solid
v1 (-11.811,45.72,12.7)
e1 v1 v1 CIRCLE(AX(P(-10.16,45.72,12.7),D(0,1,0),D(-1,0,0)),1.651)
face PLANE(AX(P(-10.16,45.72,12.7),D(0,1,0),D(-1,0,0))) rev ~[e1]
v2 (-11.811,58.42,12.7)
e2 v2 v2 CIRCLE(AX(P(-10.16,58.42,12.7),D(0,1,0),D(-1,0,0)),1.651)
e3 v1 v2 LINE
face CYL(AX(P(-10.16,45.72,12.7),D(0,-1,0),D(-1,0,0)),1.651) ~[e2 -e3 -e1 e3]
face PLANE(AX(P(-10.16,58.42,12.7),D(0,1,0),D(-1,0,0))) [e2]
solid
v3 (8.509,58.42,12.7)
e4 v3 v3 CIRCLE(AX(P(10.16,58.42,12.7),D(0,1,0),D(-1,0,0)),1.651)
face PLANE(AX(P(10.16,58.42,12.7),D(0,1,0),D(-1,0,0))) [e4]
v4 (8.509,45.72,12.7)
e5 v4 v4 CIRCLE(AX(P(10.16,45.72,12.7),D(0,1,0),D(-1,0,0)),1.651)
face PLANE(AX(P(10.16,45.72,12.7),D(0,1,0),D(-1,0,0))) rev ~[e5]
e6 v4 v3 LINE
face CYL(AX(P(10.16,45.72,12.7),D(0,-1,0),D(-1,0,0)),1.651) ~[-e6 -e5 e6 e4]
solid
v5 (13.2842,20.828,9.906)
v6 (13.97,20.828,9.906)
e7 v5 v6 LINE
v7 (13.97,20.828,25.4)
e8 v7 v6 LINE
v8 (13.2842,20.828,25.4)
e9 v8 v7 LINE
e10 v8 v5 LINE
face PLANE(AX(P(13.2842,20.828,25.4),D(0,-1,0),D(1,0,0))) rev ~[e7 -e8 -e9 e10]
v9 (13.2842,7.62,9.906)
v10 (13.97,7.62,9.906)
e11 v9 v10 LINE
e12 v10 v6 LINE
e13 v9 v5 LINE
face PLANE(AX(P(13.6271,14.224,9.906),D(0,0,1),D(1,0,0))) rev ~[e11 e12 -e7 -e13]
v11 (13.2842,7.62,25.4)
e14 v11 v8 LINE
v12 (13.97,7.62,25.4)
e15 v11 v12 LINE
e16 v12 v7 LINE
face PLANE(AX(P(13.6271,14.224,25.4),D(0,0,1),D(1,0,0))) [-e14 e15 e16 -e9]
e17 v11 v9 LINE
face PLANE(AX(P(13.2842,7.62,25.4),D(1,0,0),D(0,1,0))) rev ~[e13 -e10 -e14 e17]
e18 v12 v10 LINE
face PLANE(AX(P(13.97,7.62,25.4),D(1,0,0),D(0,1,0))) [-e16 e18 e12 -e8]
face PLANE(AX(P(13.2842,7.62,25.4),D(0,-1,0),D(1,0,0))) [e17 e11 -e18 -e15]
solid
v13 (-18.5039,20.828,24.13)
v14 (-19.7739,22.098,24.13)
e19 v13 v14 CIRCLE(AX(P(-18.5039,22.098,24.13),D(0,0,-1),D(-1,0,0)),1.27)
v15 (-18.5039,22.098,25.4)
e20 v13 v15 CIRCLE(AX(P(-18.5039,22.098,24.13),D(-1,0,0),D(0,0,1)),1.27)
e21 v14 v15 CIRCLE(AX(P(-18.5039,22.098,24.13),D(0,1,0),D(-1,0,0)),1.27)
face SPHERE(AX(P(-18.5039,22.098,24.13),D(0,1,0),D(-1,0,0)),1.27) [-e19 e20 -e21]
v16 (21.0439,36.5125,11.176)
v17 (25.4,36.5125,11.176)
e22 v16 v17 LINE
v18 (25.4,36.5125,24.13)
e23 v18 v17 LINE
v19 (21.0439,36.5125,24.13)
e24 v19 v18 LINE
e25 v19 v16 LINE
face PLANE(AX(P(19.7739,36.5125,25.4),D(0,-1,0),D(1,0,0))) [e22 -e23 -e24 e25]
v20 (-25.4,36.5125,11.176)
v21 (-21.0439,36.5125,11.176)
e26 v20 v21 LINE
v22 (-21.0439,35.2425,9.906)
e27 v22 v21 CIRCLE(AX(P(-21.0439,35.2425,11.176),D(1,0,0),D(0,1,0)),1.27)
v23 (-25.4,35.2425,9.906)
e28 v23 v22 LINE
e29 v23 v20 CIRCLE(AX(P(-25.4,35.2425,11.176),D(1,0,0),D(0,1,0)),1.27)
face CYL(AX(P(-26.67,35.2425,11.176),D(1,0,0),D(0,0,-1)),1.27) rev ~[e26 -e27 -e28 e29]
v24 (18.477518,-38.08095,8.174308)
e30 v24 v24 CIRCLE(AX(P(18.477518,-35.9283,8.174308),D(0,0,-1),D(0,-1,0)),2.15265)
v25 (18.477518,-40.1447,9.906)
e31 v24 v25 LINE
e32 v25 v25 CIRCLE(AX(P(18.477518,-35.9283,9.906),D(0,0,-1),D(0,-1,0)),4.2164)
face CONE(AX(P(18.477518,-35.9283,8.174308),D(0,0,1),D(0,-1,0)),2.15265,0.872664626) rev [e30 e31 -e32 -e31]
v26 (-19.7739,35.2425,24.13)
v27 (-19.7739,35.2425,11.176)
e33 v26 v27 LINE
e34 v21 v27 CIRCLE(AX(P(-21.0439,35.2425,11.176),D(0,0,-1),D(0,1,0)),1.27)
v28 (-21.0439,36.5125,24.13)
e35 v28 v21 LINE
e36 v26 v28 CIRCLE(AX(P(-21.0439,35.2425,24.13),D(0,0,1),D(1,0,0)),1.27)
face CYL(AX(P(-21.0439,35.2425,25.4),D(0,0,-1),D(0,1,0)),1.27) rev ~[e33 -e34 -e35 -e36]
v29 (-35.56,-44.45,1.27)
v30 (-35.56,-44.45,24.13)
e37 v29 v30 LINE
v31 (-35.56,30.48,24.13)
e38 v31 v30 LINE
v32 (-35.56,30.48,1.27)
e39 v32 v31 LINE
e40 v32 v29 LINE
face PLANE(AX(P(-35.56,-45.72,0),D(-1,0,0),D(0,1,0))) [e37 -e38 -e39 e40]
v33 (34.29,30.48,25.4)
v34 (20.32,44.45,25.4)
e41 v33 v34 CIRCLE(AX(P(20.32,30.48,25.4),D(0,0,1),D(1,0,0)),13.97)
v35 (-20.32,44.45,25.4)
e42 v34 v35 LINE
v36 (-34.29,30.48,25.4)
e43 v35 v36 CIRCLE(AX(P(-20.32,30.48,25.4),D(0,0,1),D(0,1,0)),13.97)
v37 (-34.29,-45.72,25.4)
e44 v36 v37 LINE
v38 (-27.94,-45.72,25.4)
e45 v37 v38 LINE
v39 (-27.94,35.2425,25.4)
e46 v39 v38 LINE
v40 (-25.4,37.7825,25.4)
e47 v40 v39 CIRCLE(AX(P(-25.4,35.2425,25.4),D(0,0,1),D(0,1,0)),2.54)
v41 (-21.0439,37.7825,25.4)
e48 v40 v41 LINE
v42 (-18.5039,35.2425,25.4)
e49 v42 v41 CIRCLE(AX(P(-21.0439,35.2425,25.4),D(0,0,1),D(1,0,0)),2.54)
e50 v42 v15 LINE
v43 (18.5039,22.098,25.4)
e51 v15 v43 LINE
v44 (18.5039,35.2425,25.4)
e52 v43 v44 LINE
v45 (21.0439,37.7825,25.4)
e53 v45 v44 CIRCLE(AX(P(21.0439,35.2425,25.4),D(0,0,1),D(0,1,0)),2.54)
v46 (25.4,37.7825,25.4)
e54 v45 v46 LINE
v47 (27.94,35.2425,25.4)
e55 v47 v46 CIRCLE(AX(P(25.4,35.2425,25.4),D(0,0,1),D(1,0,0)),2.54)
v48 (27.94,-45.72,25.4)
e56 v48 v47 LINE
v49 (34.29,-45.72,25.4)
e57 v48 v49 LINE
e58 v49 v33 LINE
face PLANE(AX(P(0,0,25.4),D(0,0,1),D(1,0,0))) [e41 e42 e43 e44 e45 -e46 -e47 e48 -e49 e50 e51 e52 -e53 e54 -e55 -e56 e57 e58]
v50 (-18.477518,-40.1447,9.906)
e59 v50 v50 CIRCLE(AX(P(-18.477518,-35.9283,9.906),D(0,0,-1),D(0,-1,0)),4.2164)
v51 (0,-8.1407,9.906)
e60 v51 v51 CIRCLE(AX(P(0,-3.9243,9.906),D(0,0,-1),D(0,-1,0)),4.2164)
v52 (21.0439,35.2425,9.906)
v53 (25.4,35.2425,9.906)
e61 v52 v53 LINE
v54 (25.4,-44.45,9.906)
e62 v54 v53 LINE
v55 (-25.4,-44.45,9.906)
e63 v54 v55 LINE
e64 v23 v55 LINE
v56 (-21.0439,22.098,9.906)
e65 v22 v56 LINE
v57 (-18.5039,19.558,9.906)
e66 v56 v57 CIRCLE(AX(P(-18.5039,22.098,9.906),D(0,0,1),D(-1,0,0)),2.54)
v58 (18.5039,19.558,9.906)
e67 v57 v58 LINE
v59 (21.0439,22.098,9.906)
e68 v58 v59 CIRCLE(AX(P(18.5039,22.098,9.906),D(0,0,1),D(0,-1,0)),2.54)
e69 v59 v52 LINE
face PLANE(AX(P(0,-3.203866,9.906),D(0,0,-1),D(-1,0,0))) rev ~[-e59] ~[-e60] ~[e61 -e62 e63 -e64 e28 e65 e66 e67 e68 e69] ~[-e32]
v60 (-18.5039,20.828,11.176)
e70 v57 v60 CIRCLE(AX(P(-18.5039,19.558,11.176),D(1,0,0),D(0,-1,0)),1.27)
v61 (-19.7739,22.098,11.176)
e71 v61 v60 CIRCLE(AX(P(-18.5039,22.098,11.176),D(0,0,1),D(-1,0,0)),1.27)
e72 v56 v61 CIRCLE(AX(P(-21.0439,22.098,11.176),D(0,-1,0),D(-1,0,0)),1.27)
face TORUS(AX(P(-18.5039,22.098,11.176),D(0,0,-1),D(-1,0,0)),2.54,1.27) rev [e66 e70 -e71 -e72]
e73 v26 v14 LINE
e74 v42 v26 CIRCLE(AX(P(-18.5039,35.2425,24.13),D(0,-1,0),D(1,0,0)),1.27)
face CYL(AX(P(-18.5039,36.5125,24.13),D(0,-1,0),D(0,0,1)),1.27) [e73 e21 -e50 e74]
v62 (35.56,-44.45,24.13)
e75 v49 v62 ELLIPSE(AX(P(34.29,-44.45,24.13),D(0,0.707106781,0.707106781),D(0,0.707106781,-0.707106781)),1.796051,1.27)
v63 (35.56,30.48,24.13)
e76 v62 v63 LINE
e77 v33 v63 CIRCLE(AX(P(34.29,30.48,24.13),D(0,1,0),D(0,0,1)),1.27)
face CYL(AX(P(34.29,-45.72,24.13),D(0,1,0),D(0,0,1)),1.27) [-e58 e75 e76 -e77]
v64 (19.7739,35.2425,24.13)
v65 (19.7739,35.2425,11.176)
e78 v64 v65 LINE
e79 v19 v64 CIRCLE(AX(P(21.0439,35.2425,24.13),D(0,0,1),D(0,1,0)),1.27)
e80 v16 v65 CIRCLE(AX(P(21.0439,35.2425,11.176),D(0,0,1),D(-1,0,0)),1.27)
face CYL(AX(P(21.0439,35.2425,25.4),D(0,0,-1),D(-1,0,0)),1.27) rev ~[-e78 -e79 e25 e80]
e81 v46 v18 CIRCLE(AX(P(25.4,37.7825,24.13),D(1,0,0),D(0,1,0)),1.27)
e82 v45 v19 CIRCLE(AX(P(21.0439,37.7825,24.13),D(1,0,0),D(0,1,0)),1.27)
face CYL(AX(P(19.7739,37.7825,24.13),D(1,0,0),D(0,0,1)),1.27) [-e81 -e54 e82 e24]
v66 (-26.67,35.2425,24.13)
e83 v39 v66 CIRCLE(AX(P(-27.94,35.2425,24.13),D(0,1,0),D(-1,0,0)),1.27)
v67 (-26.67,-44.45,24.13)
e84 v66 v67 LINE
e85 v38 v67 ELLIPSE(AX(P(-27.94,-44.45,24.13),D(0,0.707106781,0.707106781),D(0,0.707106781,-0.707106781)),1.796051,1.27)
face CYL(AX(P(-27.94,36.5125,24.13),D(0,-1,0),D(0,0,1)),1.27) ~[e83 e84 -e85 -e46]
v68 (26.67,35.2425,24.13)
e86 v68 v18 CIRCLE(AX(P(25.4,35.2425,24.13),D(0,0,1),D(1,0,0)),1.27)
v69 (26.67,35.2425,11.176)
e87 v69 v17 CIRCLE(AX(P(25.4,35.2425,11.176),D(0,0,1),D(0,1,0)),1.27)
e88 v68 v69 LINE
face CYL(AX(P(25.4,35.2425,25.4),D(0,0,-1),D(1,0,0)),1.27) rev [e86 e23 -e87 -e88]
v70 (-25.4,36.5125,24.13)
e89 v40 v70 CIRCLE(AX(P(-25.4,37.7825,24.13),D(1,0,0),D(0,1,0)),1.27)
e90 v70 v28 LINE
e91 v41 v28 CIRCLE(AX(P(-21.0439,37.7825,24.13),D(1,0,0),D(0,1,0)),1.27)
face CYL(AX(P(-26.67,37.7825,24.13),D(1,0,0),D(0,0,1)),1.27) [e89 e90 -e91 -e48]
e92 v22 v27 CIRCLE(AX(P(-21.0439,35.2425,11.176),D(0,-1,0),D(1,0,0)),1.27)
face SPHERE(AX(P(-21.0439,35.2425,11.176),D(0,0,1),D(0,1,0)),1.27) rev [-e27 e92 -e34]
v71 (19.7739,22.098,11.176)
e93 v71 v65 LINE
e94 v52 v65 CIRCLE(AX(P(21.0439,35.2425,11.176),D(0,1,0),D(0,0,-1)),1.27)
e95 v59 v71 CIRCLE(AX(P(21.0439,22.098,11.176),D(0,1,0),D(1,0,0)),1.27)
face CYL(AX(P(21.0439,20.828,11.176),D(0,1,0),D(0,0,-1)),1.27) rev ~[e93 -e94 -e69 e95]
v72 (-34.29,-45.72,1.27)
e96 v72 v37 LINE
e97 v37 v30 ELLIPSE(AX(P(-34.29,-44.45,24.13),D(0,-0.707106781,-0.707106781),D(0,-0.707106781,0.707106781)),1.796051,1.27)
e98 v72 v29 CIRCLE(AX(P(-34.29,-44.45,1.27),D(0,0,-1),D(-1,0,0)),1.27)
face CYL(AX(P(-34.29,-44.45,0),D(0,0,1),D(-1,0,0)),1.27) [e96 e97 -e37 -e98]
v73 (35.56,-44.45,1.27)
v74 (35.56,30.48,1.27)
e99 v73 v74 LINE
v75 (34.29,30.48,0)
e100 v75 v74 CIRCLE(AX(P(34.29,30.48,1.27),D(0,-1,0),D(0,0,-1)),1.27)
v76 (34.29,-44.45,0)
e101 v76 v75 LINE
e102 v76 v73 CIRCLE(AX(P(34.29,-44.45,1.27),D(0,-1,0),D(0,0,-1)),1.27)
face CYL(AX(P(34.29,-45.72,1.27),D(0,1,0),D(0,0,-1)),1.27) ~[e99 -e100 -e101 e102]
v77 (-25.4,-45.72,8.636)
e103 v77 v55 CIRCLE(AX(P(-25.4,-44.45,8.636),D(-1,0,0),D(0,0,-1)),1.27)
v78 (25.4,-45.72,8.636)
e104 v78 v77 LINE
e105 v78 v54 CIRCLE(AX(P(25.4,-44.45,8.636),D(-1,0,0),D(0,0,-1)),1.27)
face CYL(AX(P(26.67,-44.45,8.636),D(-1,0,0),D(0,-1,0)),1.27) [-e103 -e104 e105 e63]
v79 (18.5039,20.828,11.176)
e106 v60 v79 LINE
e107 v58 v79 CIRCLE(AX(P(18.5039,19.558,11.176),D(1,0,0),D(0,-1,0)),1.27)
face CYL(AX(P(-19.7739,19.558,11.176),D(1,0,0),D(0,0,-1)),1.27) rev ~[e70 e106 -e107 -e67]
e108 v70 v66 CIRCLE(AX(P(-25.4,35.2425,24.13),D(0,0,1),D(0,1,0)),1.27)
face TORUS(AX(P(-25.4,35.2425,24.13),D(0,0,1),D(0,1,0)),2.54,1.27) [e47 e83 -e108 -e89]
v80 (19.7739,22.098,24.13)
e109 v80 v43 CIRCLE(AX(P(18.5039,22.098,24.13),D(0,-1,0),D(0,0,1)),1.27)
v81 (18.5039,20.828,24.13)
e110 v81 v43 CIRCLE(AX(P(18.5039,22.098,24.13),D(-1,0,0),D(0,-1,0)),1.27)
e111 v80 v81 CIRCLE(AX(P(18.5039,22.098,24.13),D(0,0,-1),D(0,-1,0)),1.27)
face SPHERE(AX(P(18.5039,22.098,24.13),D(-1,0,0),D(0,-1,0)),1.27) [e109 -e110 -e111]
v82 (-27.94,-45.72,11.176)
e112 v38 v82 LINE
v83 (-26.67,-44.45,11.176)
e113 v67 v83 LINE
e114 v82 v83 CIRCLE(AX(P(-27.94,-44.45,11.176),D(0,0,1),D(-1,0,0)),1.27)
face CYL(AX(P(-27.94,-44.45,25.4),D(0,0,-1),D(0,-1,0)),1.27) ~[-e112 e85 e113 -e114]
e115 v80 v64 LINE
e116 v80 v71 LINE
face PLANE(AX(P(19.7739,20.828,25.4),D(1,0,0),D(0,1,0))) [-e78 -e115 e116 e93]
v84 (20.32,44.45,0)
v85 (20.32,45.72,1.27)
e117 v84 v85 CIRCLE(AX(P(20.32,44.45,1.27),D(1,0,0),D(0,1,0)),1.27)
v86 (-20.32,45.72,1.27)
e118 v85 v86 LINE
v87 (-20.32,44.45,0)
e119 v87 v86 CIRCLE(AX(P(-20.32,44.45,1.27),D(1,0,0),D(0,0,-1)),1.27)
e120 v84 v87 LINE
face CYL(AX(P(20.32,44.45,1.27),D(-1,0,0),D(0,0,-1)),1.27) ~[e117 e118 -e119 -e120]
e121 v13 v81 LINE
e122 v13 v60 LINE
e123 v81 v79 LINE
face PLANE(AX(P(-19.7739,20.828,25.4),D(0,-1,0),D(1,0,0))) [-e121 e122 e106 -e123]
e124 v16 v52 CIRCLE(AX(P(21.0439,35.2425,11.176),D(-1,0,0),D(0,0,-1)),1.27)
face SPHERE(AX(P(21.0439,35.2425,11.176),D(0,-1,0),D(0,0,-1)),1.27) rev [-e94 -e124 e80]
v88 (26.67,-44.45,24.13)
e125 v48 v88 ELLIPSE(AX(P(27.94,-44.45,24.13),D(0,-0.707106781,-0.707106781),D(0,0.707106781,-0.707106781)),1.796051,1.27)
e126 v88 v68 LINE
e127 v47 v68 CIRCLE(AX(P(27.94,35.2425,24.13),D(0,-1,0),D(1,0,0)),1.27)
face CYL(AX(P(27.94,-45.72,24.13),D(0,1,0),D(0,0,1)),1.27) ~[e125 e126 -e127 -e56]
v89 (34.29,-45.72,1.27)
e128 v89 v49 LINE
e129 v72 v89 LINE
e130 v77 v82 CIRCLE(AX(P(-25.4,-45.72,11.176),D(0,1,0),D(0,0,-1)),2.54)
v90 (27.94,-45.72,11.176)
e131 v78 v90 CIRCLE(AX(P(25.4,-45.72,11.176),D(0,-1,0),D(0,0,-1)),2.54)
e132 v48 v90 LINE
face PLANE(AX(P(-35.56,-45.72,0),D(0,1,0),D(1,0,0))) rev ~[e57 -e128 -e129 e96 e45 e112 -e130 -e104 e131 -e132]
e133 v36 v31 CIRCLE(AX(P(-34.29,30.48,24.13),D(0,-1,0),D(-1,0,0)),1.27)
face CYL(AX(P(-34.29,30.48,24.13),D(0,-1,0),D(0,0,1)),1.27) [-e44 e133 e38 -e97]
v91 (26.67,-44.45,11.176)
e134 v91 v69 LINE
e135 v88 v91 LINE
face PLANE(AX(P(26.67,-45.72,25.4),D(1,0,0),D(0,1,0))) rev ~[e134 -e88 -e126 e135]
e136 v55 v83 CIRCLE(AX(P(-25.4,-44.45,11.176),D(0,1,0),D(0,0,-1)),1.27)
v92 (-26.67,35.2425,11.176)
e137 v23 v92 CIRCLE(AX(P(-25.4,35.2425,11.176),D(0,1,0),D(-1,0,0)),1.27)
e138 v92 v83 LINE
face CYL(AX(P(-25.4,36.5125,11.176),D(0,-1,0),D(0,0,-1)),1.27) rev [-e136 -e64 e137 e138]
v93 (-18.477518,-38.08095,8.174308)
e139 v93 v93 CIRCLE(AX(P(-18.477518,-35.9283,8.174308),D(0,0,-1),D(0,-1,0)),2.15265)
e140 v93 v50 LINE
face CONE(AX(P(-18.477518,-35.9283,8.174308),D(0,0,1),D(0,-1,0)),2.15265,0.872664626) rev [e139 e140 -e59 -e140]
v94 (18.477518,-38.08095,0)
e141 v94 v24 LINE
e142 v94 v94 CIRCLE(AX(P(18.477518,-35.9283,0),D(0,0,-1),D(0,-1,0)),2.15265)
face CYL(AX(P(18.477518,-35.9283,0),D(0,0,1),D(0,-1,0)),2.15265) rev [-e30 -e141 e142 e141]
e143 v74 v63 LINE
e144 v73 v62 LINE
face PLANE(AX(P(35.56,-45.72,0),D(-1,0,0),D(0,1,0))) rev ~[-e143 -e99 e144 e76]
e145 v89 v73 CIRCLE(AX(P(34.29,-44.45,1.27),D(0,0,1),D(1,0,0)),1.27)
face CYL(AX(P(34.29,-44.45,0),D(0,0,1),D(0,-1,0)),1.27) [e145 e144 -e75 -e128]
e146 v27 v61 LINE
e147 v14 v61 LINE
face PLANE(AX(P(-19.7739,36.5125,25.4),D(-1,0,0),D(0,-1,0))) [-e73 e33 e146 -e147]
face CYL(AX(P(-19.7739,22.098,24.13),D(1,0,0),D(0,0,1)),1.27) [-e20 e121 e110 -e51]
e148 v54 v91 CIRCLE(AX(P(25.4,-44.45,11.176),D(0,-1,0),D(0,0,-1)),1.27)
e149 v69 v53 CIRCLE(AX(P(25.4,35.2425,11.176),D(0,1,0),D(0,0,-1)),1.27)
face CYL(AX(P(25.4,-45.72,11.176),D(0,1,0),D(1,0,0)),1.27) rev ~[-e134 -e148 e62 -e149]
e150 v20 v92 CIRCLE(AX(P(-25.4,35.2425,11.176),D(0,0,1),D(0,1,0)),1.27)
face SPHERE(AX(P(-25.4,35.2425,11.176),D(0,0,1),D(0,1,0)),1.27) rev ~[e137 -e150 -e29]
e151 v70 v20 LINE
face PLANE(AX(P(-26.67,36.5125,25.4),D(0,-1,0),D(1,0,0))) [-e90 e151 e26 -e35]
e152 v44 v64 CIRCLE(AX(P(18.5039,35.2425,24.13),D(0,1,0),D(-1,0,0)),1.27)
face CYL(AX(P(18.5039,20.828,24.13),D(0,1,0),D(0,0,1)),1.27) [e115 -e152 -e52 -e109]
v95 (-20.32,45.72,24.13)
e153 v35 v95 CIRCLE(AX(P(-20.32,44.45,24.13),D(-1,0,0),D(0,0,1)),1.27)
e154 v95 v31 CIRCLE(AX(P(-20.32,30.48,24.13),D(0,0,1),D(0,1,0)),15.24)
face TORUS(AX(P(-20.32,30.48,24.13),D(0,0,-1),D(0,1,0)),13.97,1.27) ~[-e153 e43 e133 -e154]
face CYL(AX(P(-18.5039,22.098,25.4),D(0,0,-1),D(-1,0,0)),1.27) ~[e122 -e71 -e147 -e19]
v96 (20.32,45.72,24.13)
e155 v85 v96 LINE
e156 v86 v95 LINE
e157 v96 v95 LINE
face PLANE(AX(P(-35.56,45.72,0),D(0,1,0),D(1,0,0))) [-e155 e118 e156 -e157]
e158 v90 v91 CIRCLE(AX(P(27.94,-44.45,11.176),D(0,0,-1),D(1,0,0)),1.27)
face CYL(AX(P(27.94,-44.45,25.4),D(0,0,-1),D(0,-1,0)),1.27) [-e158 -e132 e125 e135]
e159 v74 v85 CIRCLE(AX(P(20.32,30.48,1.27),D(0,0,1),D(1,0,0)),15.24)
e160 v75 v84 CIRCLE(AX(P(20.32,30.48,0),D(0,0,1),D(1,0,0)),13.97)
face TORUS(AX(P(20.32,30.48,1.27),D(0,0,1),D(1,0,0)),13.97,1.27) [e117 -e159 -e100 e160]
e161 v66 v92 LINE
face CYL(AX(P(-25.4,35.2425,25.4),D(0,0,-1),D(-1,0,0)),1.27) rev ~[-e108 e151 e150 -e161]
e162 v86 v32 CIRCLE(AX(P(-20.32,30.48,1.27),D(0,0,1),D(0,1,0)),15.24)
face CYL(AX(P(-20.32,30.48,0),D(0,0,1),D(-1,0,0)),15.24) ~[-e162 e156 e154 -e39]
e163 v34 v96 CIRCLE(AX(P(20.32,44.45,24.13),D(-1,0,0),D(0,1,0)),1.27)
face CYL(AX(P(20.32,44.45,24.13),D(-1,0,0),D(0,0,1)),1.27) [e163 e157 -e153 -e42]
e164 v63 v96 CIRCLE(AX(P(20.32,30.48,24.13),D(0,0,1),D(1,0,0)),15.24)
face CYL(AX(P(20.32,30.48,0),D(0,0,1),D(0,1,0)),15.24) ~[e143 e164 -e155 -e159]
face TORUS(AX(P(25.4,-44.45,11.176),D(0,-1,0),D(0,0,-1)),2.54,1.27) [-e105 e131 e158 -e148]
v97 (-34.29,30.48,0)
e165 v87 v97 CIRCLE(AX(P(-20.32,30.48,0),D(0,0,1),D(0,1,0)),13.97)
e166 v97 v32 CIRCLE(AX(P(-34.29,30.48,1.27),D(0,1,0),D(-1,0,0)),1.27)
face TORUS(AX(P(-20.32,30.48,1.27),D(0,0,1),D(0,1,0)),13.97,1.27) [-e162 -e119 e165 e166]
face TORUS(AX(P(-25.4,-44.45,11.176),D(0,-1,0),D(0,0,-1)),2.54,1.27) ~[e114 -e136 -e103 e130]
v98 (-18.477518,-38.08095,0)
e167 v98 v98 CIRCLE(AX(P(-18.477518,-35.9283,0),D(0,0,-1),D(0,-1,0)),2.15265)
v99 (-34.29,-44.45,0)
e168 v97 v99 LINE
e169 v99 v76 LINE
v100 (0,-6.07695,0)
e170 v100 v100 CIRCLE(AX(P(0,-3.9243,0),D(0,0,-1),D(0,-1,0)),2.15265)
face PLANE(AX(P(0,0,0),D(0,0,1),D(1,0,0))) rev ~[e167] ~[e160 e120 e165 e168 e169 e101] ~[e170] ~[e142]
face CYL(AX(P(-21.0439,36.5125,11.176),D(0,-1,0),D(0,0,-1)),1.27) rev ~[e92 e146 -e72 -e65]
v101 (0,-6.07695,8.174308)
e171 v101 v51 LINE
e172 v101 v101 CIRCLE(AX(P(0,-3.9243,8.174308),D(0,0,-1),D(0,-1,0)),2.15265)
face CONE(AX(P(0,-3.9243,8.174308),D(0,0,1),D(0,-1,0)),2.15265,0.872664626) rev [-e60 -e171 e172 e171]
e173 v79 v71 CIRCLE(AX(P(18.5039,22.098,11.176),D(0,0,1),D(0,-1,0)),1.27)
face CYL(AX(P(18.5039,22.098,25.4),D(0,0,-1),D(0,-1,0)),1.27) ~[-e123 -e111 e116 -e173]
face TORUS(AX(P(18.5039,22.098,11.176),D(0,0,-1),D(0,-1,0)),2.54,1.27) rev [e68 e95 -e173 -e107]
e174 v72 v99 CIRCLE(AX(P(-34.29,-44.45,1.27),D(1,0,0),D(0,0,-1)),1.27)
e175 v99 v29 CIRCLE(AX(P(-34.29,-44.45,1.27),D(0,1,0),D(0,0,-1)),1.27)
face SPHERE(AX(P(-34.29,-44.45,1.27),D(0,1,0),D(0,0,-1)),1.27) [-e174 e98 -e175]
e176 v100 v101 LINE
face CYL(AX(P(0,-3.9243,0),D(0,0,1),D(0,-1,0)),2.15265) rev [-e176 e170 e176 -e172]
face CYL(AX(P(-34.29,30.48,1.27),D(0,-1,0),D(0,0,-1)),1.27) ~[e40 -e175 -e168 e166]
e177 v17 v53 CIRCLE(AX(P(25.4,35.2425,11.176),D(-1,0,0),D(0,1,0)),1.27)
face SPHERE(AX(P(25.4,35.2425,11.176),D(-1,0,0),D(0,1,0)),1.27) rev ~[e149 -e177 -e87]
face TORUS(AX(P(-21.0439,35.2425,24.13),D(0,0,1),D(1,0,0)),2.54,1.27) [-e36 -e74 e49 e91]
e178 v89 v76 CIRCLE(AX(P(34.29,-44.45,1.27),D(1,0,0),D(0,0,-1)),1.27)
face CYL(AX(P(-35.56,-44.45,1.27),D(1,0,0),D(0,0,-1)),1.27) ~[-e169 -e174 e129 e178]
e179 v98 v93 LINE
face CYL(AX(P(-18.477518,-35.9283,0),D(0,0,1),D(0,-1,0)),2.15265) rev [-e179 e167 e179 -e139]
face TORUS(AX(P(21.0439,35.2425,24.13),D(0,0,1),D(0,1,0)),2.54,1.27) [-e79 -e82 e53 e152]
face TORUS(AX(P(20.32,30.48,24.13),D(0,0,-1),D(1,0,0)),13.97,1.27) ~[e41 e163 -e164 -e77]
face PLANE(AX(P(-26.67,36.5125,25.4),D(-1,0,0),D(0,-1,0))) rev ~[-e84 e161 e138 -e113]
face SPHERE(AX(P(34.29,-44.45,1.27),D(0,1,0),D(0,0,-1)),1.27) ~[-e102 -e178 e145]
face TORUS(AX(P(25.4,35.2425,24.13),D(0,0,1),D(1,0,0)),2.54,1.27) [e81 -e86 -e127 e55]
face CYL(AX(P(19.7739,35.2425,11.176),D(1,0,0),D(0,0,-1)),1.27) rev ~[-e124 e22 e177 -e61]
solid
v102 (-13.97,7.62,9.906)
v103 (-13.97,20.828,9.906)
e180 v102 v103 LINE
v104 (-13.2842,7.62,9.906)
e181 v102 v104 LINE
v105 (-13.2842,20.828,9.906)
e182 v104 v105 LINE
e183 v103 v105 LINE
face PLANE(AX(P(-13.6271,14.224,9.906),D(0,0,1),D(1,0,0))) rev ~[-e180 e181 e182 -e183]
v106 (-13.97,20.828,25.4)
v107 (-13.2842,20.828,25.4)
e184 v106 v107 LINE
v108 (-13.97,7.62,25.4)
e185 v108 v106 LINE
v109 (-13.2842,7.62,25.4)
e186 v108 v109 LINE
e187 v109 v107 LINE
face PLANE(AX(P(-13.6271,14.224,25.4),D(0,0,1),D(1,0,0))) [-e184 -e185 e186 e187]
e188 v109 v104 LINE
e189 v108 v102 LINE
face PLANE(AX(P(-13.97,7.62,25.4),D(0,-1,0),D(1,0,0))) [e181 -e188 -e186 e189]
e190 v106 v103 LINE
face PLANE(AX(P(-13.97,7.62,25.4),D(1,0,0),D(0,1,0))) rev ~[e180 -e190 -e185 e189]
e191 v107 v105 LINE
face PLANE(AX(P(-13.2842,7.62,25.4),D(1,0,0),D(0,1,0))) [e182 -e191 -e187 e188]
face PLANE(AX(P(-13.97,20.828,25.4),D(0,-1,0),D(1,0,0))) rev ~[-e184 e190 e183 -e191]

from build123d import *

# Parameters (mm, degrees)
SKETCH3_W                                 = 71.12
SKETCH3_H                                 = 91.44
BOSS_EXTRUDE1_DEPTH                       = 25.4
CUT_EXTRUDE1_DEPTH                        = 15.494
SKETCH7_W                                 = 0.6858
SKETCH7_H                                 = 13.208
BOSS_EXTRUDE2_DEPTH                       = 15.494
BOSS_EXTRUDE2_2_DEPTH                     = 15.494
CSK_FOR_8_FLAT_HEAD_MACHINE_SCREW_2_COUNT = 2
CSK_FOR_8_FLAT_HEAD_MACHINE_SCREW_2_PITCH = 36.95503603
CSK_FOR_8_FLAT_HEAD_MACHINE_SCREW_3_COUNT = 2
CSK_FOR_8_FLAT_HEAD_MACHINE_SCREW_3_PITCH = 36.95503603
FILLET1_R                                 = 15.24
FILLET2_R                                 = 1.27
SKETCH11_R                                = 1.651
BOSS_EXTRUDE3_DEPTH                       = 12.7
BOSS_EXTRUDE3_2_DEPTH                     = 12.7


with BuildPart() as part:
    # Sketch3 → Boss-Extrude1 (new body)
    with BuildSketch(Plane.XY):
        Rectangle(SKETCH3_W, SKETCH3_H)
    extrude(amount=BOSS_EXTRUDE1_DEPTH)

    # Sketch4 → Cut-Extrude1 (cut)
    with BuildSketch(Plane.XY.offset(25.4)):
        Polygon((-26.67, -45.72), (-26.67, 20.828), (-26.67, 36.5125), (-19.7739, 36.5125), (-19.7739, 20.828), (19.7739, 20.828), (19.7739, 36.5125), (26.67, 36.5125), (26.67, 20.828), (26.67, -45.72), align=None)
    extrude(amount=-CUT_EXTRUDE1_DEPTH, mode=Mode.SUBTRACT)

    # Sketch10 → CSK for #8 Flat Head Machine Screw (100)1 (revolve, cut)
    with BuildSketch(Plane(origin=(0, -3.9243, 9.906), x_dir=(0, -1, 0), z_dir=(1, 0, 0))):
        Polygon((0, 0), (0, 9.906), (2.15265, 9.906), (2.15265, 1.731691864), (4.2164, 0), align=None)
    csk_for_8_flat_head_machine_screw_100 = revolve(axis=Axis((0, -3.9243, 16.256), (0, 0, -1)), mode=Mode.SUBTRACT)

    # CSK for _8 Flat Head Machine Screw _ 2: CSK for #8 Flat Head Machine Screw (100)1 ×2
    with Locations(*[Vector(-0.5, -0.8660254037844387, 0) * (i * CSK_FOR_8_FLAT_HEAD_MACHINE_SCREW_2_PITCH) for i in range(1, CSK_FOR_8_FLAT_HEAD_MACHINE_SCREW_2_COUNT)]):
        add(csk_for_8_flat_head_machine_screw_100, mode=Mode.SUBTRACT)

    # CSK for _8 Flat Head Machine Screw _ 3: CSK for #8 Flat Head Machine Screw (100)1 ×2
    with Locations(*[Vector(0.5, -0.8660254037844387, 0) * (i * CSK_FOR_8_FLAT_HEAD_MACHINE_SCREW_3_PITCH) for i in range(1, CSK_FOR_8_FLAT_HEAD_MACHINE_SCREW_3_COUNT)]):
        add(csk_for_8_flat_head_machine_screw_100, mode=Mode.SUBTRACT)

    # Fillet1
    fillet1_edges = [part.edges().sort_by_distance(p)[0] for p in [
        (-35.56, 45.72, 12.7),
        (35.56, 45.72, 12.7),
    ]]
    fillet(fillet1_edges, radius=FILLET1_R)

    # Fillet2
    fillet2_edges = [part.edges().sort_by_distance(p)[0] for p in [
        (35.56, -7.62, 25.4),
        (-19.7739, 36.5125, 17.653),
        (-19.7739, 28.67025, 25.4),
        (-19.7739, 20.828, 17.653),
        (0, 20.828, 25.4),
        (19.7739, 28.67025, 9.906),
        (19.7739, 20.828, 17.653),
        (23.22195, 36.5125, 9.906),
        (19.7739, 36.5125, 17.653),
        (26.67, 36.5125, 17.653),
        (26.67, -4.60375, 25.4),
        (0, -45.72, 9.906),
        (26.67, -45.72, 17.653),
        (-26.67, -45.72, 17.653),
        (-26.67, -4.60375, 25.4),
        (-26.67, 36.5125, 17.653),
        (-23.22195, 36.5125, 25.4),
        (23.22195, 36.5125, 25.4),
        (19.7739, 28.67025, 25.4),
        (-23.22195, 36.5125, 9.906),
        (-19.7739, 28.67025, 9.906),
        (0, 20.828, 9.906),
        (26.67, -4.60375, 9.906),
        (-26.67, -4.60375, 9.906),
        (35.56, -7.62, 0),
        (0, -45.72, 0),
        (0, 45.72, 0),
        (0, 45.72, 25.4),
        (-35.56, -7.62, 0),
        (-31.096307345, 41.256307345, 0),
        (31.096307345, 41.256307345, 0),
        (-35.56, -7.62, 25.4),
        (-31.096307345, 41.256307345, 25.4),
        (31.096307345, 41.256307345, 25.4),
        (35.56, -45.72, 12.7),
        (-35.56, -45.72, 12.7),
    ]]
    fillet(fillet2_edges, radius=FILLET2_R)


with BuildPart() as body_2:
    # Sketch7 → Boss-Extrude2 (new body)
    with BuildSketch(Plane.XY.offset(25.4)):
        with Locations((13.6271, 14.224)):
            Rectangle(SKETCH7_W, SKETCH7_H)
    extrude(amount=-BOSS_EXTRUDE2_DEPTH)


with BuildPart() as body_3:
    # Sketch7 → Boss-Extrude2 2 (new body)
    with BuildSketch(Plane.XY.offset(25.4)):
        with Locations((-13.6271, 14.224)):
            Rectangle(SKETCH7_W, SKETCH7_H)
    extrude(amount=-BOSS_EXTRUDE2_2_DEPTH)


with BuildPart() as body_4:
    # Sketch11 → Boss-Extrude3 (new body)
    with BuildSketch(Plane(origin=(0, 45.72, 0), x_dir=(1, 0, 0), z_dir=(0, 1, 0))):
        with Locations(Location((-10.16, -12.7, 0), (0, 0, 180))):
            Circle(SKETCH11_R)
    extrude(amount=BOSS_EXTRUDE3_DEPTH)


with BuildPart() as body_5:
    # Sketch11 → Boss-Extrude3 2 (new body)
    with BuildSketch(Plane(origin=(0, 45.72, 0), x_dir=(1, 0, 0), z_dir=(0, 1, 0))):
        with Locations(Location((10.16, -12.7, 0), (0, 0, 180))):
            Circle(SKETCH11_R)
    extrude(amount=BOSS_EXTRUDE3_2_DEPTH)


solid = Compound([part.part, body_2.part, body_3.part, body_4.part, body_5.part])
